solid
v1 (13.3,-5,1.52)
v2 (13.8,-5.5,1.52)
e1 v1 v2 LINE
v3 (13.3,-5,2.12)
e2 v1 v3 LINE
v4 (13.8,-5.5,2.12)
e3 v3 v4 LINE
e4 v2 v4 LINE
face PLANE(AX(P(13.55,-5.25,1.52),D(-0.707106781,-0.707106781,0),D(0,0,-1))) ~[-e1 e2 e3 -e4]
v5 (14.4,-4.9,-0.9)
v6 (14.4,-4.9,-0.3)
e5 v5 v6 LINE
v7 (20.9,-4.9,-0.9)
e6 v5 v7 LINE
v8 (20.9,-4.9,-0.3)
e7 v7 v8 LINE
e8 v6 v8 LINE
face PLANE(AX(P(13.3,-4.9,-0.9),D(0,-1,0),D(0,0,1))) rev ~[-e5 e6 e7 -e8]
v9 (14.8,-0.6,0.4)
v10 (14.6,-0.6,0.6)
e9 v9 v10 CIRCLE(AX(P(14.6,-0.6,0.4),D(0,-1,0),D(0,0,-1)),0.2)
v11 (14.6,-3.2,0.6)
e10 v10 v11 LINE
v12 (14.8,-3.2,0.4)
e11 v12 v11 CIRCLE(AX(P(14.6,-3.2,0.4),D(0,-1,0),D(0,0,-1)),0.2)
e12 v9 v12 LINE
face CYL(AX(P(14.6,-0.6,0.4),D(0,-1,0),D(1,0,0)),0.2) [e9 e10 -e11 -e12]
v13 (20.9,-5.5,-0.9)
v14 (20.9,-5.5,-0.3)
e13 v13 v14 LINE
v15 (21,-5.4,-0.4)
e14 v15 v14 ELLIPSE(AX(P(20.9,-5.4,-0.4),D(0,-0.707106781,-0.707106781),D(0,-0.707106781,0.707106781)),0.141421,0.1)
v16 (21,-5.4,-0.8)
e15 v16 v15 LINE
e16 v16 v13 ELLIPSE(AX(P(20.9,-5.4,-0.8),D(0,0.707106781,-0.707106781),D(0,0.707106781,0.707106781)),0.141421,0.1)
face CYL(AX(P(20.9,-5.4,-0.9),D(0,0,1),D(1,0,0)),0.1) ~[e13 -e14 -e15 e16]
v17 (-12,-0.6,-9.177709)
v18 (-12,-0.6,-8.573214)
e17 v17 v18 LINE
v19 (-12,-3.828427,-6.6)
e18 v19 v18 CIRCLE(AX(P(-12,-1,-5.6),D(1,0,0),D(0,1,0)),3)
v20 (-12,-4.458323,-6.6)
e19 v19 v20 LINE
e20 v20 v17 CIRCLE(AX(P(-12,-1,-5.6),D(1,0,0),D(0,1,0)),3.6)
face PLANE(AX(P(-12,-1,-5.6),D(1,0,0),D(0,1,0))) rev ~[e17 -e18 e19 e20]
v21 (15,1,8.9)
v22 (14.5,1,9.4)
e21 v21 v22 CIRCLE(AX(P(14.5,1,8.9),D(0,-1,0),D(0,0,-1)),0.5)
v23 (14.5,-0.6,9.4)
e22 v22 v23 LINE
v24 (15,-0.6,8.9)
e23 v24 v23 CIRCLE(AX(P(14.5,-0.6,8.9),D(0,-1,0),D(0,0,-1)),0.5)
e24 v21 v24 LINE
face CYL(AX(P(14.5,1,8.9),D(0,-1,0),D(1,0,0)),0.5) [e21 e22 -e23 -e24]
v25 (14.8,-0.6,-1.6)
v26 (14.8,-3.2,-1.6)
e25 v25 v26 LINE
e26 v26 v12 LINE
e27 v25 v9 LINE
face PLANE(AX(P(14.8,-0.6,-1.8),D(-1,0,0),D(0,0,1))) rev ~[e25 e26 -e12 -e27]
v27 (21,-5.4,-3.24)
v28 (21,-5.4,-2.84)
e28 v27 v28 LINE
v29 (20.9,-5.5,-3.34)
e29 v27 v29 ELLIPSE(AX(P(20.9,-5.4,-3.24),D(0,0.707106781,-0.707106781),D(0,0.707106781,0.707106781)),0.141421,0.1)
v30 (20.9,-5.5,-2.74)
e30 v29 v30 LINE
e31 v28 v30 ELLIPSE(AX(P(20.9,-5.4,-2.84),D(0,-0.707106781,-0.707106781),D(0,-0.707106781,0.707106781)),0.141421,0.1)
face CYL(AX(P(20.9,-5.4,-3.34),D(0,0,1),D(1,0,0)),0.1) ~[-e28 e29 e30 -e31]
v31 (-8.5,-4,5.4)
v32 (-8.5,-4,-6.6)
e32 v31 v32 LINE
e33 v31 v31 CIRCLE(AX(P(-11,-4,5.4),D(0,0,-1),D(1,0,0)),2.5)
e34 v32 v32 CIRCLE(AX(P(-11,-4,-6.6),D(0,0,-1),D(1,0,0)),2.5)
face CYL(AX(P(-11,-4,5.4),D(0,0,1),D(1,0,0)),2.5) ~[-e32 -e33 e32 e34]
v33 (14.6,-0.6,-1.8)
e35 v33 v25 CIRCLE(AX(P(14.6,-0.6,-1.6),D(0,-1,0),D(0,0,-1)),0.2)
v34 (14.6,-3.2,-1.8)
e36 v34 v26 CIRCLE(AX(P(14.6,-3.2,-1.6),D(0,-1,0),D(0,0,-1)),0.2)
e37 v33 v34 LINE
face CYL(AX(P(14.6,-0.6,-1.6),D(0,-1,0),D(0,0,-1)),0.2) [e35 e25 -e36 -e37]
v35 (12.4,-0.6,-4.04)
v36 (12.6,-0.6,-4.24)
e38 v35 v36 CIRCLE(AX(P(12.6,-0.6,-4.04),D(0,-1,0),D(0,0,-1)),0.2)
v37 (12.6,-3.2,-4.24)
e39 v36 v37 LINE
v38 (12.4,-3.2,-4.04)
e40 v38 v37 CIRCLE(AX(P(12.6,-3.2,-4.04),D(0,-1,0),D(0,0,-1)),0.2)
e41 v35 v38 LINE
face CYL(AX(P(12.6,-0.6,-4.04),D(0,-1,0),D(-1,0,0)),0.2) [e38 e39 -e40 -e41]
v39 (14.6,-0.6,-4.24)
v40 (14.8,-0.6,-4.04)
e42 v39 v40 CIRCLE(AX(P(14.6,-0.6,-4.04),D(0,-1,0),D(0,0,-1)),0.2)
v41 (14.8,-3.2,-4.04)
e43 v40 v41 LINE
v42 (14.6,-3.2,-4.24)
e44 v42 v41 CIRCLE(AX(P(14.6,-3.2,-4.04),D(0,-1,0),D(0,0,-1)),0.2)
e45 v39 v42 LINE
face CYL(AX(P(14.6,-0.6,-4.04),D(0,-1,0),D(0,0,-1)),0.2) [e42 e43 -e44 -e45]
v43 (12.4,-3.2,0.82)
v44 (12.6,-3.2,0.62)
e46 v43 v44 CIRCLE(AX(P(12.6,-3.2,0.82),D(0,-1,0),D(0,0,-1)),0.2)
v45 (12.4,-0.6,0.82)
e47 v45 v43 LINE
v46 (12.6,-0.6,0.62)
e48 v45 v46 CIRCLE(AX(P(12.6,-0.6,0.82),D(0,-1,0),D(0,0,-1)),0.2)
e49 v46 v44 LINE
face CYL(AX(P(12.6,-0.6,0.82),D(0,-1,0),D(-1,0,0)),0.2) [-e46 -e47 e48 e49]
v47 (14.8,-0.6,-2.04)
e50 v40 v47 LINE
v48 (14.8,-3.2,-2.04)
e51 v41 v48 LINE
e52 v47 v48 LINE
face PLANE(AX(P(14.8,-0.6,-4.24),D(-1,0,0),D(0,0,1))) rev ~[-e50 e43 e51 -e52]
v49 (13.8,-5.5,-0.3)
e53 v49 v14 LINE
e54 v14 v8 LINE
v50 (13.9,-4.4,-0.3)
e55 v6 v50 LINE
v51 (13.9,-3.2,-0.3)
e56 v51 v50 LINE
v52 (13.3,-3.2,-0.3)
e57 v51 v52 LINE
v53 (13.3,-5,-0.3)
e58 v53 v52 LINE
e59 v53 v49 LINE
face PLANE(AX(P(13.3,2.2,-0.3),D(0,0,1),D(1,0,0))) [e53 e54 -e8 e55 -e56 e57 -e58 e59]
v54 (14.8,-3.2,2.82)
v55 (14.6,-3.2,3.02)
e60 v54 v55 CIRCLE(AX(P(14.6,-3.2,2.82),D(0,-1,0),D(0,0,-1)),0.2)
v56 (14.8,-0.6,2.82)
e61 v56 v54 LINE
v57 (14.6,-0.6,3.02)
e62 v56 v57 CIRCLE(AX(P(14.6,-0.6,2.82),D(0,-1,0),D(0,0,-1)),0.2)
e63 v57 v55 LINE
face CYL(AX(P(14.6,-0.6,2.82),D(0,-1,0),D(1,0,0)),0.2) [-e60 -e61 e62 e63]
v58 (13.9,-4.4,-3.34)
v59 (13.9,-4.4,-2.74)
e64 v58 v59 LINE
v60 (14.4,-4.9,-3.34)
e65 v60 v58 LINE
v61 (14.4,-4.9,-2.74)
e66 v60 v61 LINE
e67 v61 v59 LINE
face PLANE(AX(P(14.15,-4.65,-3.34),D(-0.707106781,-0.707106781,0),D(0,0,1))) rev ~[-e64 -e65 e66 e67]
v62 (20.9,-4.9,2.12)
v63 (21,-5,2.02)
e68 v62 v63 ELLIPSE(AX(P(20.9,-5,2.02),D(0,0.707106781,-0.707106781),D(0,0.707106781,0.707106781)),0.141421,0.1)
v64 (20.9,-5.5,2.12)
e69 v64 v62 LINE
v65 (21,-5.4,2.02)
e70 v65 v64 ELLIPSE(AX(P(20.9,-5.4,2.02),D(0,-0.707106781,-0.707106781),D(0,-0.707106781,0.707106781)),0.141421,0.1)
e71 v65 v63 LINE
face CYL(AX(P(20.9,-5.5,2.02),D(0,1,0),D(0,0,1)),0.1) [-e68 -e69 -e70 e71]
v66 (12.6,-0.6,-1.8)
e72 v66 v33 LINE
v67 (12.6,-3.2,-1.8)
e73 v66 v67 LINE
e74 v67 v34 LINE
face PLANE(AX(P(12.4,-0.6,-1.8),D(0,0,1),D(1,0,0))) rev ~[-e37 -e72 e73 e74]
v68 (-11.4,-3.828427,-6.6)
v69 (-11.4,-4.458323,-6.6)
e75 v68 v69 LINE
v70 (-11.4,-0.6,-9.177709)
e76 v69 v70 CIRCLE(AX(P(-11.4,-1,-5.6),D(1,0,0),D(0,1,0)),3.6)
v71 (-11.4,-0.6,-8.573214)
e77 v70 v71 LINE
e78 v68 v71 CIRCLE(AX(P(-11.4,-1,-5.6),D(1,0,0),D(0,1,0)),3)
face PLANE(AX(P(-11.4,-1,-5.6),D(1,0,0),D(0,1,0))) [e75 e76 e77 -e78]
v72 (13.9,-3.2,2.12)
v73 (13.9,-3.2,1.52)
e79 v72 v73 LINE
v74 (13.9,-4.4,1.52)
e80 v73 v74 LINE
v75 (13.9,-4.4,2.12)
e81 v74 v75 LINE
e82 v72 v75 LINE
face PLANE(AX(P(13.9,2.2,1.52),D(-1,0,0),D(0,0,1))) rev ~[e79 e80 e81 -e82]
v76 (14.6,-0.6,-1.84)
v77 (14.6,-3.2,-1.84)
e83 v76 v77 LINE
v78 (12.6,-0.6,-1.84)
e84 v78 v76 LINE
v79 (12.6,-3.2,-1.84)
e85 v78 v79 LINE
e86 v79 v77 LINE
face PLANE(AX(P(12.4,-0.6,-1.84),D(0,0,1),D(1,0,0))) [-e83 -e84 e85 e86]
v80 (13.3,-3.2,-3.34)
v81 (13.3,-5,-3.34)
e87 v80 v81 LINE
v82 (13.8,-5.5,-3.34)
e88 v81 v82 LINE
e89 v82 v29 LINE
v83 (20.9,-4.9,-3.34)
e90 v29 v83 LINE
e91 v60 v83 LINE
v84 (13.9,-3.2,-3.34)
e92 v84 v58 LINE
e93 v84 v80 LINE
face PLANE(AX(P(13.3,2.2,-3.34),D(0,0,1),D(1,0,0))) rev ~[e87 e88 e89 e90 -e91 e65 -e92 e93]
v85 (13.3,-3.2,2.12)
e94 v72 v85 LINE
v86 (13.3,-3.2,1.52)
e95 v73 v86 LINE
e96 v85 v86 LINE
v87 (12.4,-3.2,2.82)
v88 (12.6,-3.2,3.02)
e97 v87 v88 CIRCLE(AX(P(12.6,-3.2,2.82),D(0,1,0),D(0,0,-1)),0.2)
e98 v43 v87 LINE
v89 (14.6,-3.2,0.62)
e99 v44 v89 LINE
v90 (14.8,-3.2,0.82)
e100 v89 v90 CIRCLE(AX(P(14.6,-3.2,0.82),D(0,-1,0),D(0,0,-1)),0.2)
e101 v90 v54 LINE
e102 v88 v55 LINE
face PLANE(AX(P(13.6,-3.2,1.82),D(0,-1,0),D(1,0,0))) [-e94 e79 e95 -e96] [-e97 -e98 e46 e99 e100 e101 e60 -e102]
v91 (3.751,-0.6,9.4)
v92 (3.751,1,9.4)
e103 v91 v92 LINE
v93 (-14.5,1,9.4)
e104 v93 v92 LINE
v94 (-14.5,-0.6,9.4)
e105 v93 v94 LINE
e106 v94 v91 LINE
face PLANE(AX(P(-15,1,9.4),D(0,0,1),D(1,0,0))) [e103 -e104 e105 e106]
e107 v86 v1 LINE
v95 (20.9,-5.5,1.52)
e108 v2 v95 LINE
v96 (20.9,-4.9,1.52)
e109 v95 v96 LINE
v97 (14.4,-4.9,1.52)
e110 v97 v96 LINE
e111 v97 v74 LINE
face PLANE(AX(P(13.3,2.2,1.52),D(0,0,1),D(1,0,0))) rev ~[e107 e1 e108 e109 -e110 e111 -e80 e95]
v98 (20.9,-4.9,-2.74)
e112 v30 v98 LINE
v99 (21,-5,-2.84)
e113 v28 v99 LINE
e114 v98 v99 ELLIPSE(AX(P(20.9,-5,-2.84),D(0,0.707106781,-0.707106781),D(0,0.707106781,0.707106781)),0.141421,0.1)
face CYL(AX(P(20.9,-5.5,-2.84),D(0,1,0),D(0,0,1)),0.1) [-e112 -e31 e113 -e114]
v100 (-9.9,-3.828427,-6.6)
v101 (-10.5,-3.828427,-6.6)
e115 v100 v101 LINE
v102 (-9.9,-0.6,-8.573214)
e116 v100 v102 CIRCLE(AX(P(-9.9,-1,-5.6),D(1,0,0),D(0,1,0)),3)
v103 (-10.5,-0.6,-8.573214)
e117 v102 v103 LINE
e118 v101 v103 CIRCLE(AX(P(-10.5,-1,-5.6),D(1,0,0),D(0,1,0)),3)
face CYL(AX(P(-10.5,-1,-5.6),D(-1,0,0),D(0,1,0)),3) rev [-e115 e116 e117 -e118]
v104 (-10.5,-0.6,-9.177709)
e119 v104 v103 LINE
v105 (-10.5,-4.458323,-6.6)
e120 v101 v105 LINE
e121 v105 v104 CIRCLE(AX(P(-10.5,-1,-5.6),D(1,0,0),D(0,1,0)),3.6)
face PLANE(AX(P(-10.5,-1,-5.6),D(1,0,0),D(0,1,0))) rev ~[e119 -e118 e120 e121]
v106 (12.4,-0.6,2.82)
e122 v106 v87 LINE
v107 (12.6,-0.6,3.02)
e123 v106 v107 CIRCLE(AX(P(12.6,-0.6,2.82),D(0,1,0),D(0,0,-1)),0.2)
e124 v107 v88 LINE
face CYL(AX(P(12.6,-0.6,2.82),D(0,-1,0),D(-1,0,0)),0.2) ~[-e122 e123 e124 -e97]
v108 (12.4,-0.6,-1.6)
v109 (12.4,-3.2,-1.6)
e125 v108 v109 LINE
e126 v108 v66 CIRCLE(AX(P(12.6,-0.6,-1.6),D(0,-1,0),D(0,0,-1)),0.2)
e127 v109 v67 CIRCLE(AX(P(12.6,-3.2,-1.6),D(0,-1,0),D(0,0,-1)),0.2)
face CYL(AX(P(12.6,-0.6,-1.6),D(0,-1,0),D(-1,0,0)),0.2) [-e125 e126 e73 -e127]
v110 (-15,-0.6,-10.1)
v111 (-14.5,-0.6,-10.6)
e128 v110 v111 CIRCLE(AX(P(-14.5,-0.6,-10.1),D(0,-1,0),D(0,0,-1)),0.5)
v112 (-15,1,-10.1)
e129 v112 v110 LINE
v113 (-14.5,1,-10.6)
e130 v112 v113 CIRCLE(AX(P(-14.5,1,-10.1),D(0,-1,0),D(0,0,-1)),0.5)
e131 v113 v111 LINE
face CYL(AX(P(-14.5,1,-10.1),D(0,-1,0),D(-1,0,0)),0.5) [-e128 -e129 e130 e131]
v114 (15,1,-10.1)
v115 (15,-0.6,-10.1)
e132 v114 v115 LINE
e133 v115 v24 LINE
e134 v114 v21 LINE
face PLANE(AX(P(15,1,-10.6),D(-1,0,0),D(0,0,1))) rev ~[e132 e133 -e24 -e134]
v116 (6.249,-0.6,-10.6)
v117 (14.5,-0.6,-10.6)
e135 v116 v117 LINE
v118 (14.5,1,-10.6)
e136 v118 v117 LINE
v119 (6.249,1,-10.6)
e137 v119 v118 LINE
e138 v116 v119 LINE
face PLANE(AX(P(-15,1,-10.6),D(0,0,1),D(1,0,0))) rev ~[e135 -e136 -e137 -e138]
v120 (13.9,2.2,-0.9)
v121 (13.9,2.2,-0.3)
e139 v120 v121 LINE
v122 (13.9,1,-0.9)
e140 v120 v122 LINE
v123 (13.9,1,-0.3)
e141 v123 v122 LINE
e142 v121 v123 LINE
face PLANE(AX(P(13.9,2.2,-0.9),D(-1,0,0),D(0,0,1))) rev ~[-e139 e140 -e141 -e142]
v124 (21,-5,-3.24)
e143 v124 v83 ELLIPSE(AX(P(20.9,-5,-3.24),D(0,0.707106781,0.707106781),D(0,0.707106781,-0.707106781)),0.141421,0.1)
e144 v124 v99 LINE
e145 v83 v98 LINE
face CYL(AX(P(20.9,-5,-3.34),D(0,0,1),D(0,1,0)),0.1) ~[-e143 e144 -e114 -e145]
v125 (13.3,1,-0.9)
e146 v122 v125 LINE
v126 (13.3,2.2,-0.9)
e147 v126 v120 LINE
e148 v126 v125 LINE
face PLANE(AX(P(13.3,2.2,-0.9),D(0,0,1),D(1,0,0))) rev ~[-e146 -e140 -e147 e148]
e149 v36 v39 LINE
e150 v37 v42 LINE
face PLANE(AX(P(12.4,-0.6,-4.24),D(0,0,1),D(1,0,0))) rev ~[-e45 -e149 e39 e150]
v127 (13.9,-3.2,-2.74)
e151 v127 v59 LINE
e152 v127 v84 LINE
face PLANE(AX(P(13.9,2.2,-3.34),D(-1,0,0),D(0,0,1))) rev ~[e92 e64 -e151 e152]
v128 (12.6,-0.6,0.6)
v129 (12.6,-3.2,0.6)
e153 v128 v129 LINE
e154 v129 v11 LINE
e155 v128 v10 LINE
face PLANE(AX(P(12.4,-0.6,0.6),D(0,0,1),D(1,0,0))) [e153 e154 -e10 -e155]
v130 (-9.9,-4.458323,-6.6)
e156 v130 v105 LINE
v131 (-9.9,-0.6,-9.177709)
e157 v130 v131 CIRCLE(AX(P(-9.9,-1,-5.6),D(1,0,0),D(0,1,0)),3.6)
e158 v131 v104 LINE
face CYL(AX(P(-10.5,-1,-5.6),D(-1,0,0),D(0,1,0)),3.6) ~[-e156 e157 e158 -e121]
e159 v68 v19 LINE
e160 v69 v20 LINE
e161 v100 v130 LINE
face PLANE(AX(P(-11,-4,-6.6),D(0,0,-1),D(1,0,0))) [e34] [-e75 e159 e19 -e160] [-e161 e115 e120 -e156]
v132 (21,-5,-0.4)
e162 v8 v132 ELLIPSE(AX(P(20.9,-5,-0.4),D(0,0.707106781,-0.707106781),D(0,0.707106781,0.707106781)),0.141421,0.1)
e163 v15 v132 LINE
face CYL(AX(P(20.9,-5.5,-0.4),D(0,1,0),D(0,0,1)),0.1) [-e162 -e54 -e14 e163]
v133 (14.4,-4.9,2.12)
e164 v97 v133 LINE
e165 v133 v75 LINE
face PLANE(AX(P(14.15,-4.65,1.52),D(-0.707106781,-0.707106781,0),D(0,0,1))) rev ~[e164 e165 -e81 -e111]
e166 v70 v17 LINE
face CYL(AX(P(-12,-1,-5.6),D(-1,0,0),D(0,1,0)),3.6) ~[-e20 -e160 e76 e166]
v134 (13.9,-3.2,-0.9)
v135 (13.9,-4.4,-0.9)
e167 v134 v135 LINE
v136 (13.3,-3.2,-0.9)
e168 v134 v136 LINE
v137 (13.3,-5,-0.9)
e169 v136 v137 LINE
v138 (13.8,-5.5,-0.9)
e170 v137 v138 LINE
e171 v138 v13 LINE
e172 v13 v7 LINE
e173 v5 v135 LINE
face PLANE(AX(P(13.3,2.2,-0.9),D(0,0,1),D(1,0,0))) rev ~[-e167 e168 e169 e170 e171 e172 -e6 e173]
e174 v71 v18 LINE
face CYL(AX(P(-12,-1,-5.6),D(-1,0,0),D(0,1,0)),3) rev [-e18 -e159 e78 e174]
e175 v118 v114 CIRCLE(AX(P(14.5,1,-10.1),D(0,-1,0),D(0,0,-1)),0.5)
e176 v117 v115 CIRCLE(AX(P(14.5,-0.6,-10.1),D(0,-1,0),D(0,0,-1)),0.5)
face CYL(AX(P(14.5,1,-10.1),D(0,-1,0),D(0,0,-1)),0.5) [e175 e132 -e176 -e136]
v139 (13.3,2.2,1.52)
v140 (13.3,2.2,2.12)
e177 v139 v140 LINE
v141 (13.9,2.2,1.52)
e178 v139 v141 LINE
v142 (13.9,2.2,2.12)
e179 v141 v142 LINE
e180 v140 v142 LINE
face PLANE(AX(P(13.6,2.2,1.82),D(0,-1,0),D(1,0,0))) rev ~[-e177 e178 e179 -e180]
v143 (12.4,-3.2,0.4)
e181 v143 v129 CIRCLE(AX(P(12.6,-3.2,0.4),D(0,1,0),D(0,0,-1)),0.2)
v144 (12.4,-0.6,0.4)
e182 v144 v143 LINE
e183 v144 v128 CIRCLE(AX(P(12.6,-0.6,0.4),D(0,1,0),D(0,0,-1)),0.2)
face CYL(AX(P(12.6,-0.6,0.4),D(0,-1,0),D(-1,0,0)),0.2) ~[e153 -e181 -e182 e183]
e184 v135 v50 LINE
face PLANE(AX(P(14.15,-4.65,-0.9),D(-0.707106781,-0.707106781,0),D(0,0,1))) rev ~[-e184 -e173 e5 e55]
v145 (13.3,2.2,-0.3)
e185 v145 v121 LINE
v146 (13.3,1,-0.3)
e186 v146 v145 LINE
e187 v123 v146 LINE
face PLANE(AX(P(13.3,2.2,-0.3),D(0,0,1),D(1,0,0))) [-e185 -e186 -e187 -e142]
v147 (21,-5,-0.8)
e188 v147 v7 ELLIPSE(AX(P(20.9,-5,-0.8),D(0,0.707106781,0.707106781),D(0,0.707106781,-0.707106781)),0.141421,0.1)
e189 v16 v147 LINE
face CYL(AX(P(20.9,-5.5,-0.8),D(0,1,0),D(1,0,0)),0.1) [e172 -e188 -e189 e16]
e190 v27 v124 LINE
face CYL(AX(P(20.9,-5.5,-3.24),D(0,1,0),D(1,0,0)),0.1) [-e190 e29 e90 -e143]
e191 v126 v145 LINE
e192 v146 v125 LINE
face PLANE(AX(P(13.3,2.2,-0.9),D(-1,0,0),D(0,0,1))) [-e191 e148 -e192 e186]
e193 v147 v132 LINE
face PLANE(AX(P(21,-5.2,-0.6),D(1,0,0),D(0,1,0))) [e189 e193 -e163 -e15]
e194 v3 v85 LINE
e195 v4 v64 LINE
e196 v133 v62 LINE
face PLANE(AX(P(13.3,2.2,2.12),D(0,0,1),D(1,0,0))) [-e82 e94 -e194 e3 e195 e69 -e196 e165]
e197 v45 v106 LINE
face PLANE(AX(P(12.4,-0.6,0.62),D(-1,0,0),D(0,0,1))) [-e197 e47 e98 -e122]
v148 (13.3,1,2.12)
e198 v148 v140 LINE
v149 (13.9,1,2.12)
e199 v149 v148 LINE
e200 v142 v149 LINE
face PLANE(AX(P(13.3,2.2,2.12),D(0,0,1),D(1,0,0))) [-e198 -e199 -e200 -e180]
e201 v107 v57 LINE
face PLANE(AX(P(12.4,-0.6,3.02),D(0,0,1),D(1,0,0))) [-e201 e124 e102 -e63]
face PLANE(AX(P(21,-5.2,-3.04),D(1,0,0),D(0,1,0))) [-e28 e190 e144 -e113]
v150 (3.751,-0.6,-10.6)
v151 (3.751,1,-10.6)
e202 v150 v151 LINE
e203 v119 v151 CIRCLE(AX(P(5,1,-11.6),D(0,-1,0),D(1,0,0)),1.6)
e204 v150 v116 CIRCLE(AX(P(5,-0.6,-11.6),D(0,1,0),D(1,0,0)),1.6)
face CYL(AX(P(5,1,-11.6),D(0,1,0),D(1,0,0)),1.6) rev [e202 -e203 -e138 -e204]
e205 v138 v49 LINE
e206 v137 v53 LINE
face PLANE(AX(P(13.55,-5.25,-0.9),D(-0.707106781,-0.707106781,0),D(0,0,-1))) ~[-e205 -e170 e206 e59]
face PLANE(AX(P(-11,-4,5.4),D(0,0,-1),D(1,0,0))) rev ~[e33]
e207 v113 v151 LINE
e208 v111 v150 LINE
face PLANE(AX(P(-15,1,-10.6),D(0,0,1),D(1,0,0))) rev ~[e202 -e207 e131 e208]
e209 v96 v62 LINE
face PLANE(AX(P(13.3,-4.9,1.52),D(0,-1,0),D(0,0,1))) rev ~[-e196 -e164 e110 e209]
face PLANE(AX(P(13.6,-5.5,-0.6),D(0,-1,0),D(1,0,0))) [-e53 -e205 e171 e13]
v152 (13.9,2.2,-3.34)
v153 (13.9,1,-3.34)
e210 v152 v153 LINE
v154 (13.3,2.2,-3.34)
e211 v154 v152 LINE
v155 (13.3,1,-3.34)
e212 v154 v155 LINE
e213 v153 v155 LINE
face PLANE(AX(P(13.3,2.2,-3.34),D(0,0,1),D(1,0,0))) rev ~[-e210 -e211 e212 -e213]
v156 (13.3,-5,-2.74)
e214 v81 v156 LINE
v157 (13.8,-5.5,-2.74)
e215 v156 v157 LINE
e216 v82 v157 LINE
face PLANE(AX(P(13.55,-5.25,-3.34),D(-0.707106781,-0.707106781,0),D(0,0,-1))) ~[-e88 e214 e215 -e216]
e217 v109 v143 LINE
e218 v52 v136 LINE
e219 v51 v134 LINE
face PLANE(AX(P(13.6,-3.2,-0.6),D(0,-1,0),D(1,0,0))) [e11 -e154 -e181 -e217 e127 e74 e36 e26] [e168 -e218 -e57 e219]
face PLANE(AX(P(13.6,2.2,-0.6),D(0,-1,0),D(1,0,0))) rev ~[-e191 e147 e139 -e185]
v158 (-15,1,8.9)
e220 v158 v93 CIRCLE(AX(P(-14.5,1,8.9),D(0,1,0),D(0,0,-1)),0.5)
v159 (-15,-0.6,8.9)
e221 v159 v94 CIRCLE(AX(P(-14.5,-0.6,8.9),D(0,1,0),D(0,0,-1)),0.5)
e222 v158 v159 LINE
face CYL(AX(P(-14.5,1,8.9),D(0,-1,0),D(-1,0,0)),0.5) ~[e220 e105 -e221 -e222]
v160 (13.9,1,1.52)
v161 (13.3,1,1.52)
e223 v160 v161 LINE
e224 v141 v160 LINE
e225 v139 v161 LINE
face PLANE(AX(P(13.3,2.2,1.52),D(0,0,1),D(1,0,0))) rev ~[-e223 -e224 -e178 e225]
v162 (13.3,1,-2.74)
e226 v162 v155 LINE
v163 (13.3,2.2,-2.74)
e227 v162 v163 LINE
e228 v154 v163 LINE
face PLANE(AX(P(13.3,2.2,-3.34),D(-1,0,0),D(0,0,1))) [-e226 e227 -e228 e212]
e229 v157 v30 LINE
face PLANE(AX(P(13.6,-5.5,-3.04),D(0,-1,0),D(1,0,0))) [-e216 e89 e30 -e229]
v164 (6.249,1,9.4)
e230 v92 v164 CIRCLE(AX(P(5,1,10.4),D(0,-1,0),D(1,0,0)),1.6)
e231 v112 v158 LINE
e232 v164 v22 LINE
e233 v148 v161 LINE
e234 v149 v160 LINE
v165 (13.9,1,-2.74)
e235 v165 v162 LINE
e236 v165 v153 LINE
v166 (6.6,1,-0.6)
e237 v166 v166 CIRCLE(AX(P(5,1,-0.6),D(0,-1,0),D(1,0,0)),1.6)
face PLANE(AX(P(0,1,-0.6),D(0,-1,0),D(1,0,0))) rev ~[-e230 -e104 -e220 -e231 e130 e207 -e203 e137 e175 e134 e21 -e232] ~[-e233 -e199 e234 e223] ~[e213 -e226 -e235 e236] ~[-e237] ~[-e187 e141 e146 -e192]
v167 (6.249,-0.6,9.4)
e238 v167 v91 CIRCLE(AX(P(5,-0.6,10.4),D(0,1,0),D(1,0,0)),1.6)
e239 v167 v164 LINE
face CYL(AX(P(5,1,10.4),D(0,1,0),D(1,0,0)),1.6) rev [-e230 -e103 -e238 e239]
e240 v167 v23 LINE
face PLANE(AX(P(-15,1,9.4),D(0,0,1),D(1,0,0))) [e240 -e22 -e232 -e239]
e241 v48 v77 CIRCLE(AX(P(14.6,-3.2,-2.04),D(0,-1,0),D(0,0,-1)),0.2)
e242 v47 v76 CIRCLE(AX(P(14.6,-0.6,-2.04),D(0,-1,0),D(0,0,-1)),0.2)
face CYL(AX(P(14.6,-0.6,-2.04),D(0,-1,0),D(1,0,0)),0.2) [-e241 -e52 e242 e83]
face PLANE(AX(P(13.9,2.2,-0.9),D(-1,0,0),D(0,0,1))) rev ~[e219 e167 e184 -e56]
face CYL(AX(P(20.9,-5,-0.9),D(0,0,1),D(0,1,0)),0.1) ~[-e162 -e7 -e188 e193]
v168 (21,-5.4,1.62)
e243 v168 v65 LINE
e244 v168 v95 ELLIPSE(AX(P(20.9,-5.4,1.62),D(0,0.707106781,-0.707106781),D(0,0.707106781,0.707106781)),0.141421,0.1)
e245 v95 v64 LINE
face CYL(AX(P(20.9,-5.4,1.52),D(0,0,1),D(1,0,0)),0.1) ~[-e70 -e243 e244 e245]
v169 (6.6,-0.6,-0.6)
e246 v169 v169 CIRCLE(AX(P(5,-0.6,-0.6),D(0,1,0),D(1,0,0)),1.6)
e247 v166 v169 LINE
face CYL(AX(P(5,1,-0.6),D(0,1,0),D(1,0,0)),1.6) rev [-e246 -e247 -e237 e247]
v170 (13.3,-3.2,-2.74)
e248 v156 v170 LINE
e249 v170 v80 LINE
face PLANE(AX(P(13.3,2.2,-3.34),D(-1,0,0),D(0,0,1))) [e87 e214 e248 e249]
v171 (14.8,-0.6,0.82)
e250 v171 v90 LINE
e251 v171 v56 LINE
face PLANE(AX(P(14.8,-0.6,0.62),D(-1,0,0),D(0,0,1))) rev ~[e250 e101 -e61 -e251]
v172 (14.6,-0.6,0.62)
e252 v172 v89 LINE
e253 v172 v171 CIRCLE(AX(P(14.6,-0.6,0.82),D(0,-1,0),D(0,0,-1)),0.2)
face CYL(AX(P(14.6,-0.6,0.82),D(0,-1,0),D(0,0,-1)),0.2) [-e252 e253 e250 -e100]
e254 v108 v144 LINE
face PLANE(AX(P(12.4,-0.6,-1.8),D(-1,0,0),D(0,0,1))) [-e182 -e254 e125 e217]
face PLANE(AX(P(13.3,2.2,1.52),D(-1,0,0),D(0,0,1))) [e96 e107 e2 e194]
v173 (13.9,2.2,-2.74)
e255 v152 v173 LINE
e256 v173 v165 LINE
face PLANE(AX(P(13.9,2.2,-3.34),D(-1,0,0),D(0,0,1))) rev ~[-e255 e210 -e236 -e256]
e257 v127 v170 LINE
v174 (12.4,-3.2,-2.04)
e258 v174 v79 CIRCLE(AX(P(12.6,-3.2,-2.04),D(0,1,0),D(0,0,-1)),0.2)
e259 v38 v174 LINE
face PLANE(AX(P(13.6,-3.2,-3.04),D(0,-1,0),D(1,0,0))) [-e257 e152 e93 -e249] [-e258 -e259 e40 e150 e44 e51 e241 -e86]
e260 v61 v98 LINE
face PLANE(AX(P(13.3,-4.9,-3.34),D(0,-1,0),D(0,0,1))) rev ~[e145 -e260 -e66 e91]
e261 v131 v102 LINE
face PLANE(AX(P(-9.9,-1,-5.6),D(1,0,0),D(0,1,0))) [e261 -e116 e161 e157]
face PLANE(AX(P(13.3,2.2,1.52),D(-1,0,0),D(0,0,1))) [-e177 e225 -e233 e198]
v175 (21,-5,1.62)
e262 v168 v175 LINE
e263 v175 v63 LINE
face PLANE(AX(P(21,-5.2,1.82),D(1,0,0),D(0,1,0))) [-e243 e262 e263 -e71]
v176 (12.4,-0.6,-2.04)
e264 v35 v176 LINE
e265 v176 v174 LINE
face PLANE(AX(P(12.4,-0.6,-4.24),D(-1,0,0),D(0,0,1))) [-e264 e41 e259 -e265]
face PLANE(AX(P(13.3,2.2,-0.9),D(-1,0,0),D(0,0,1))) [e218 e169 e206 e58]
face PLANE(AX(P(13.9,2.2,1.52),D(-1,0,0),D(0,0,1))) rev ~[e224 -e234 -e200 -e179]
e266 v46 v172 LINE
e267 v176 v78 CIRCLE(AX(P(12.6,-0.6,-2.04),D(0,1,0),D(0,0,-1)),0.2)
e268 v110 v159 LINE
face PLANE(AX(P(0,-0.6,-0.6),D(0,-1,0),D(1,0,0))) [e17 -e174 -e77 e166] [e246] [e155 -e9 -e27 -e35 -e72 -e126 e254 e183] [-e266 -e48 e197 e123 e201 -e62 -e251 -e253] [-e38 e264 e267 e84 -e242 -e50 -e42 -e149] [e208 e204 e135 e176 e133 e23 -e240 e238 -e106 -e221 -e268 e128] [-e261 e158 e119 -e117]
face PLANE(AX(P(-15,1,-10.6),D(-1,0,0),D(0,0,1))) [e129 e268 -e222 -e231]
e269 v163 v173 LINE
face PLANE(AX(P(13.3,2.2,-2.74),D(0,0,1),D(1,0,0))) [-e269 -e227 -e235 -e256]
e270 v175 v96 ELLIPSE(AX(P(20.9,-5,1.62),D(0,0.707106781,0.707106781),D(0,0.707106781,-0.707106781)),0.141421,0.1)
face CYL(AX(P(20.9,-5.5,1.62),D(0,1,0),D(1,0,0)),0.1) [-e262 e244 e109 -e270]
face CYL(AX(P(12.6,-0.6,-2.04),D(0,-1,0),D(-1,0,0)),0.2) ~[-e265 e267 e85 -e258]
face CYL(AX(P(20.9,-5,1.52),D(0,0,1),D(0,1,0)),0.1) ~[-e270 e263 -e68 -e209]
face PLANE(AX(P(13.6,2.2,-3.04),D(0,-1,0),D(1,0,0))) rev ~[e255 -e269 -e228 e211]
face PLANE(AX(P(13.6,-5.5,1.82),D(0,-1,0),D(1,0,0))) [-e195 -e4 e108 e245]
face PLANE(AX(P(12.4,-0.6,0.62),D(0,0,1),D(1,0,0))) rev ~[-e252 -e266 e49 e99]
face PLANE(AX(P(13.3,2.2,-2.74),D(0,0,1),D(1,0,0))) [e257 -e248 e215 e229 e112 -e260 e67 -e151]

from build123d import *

# Parameters (mm, degrees)
BOX214_W                  = 0.6
BOX214_H                  = 0.6
BOX214_DEPTH              = 7.7
BOX213_W                  = 0.6
BOX213_H                  = 0.6
BOX213_DEPTH              = 7.7
CHAMFER002_SIZE           = 0.5
CHAMFER003_SIZE           = 0.5
FILLET164_R               = 0.1
BOX212_W                  = 2.4
BOX212_H                  = 2.4
BOX212_DEPTH              = 2.6
FILLET163_R               = 0.2
BOX217_W                  = 0.6
BOX217_H                  = 0.6
BOX217_DEPTH              = 7.7
BOX216_W                  = 0.6
BOX216_H                  = 0.6
BOX216_DEPTH              = 7.7
CHAMFER004_SIZE           = 0.5
CHAMFER005_SIZE           = 0.5
FILLET166_R               = 0.1
BOX215_W                  = 2.4
BOX215_H                  = 2.4
BOX215_DEPTH              = 2.6
FILLET165_R               = 0.2
BOX220_W                  = 0.6
BOX220_H                  = 0.6
BOX220_DEPTH              = 7.7
BOX219_W                  = 0.6
BOX219_H                  = 0.6
BOX219_DEPTH              = 7.7
CHAMFER006_SIZE           = 0.5
CHAMFER007_SIZE           = 0.5
FILLET168_R               = 0.1
BOX218_W                  = 2.4
BOX218_H                  = 2.4
BOX218_DEPTH              = 2.6
FILLET167_R               = 0.2
BOX221_W                  = 10
BOX221_H                  = 10
BOX221_DEPTH              = 10
BOX222_W                  = 10
BOX222_H                  = 10
BOX222_DEPTH              = 10
TUBE003_R                 = 3.6
TUBE003_R_2               = 3
TUBE003_DEPTH             = 0.6
TUBE004_R                 = 3.6
TUBE004_R_2               = 3
TUBE004_DEPTH             = 0.6
CYLINDER193_R             = 2
CYLINDER193_DEPTH         = 1
CYLINDER194_R             = 2
CYLINDER194_DEPTH         = 1
CYLINDER192_R             = 2.5
CYLINDER192_DEPTH         = 12
FUSION007_PLACEMENT_ANGLE = 90
CYLINDER191_R             = 1.6
CYLINDER191_DEPTH         = 10
CYLINDER001_R             = 1.6
CYLINDER001_DEPTH         = 10
CYLINDER190_R             = 1.6
CYLINDER190_DEPTH         = 10
BOX211_W                  = 30
BOX211_H                  = 20
BOX211_DEPTH              = 1.6
FILLET161_R               = 0.5
FILLET162_R               = 0.5
FUSION010_PLACEMENT_ANGLE = 90


with BuildPart() as cubo201:
    # Box214 → Box214 (new body)
    with BuildSketch(Plane(origin=(0, 0, 7.7), x_dir=(0, 0, -1), z_dir=(1, 0, 0))):
        with Locations((0.3, 0.3)):
            Rectangle(BOX214_W, BOX214_H)
    extrude(amount=BOX214_DEPTH)


with BuildPart() as cuerpometal:
    # Box213 → Box213 (new body)
    with BuildSketch(Plane.XY):
        with Locations((0.3, 0.3)):
            Rectangle(BOX213_W, BOX213_H)
    extrude(amount=BOX213_DEPTH)

    # Fusion139: union Cubo201
    add(cubo201.part)

    # Chamfer002
    chamfer002_edges = [cuerpometal.edges().sort_by_distance(p)[0] for p in [
        (0, 0.3, 7.7),
    ]]
    chamfer(chamfer002_edges, length=CHAMFER002_SIZE)

    # Chamfer003
    chamfer003_edges = [cuerpometal.edges().sort_by_distance(p)[0] for p in [
        (0.6, 0.3, 7.1),
    ]]
    chamfer(chamfer003_edges, length=CHAMFER003_SIZE)

    # Fillet164
    fillet164_edges = [cuerpometal.edges().sort_by_distance(p)[0] for p in [
        (7.7, 0, 7.4),
        (7.7, 0.3, 7.1),
        (7.7, 0.3, 7.7),
        (7.7, 0.6, 7.4),
    ]]
    fillet(fillet164_edges, radius=FILLET164_R)


with BuildPart() as cuerpometal_1:
    # Fillet164 placement: moved
    add(cuerpometal.part.moved(Location((0.9, 0.9, -1.2))))


with BuildPart() as conectormacho:
    # Box212 → Box212 (new body)
    with BuildSketch(Plane.XY.offset(1.6)):
        with Locations((1.2, 1.2)):
            Rectangle(BOX212_W, BOX212_H)
    extrude(amount=BOX212_DEPTH)

    # Fillet163
    fillet163_edges = [conectormacho.edges().sort_by_distance(p)[0] for p in [
        (0, 0, 2.9),
        (0, 2.4, 2.9),
        (2.4, 0, 2.9),
        (2.4, 2.4, 2.9),
    ]]
    fillet(fillet163_edges, radius=FILLET163_R)

    # Fusion001: union CuerpoMetal
    add(cuerpometal_1.part)


with BuildPart() as conectormacho_1:
    # Fusion001 placement: moved
    add(conectormacho.part.moved(Location((12.4, -1.2, 0))))


with BuildPart() as cubo204:
    # Box217 → Box217 (new body)
    with BuildSketch(Plane(origin=(0, 0, 7.7), x_dir=(0, 0, -1), z_dir=(1, 0, 0))):
        with Locations((0.3, 0.3)):
            Rectangle(BOX217_W, BOX217_H)
    extrude(amount=BOX217_DEPTH)


with BuildPart() as cuerpometal001:
    # Box216 → Box216 (new body)
    with BuildSketch(Plane.XY):
        with Locations((0.3, 0.3)):
            Rectangle(BOX216_W, BOX216_H)
    extrude(amount=BOX216_DEPTH)

    # Fusion140: union Cubo204
    add(cubo204.part)

    # Chamfer004
    chamfer004_edges = [cuerpometal001.edges().sort_by_distance(p)[0] for p in [
        (0, 0.3, 7.7),
    ]]
    chamfer(chamfer004_edges, length=CHAMFER004_SIZE)

    # Chamfer005
    chamfer005_edges = [cuerpometal001.edges().sort_by_distance(p)[0] for p in [
        (0.6, 0.3, 7.1),
    ]]
    chamfer(chamfer005_edges, length=CHAMFER005_SIZE)

    # Fillet166
    fillet166_edges = [cuerpometal001.edges().sort_by_distance(p)[0] for p in [
        (7.7, 0, 7.4),
        (7.7, 0.3, 7.1),
        (7.7, 0.3, 7.7),
        (7.7, 0.6, 7.4),
    ]]
    fillet(fillet166_edges, radius=FILLET166_R)


with BuildPart() as cuerpometal001_1:
    # Fillet166 placement: moved
    add(cuerpometal001.part.moved(Location((0.9, 0.9, -1.2))))


with BuildPart() as conectormacho001:
    # Box215 → Box215 (new body)
    with BuildSketch(Plane.XY.offset(1.6)):
        with Locations((1.2, 1.2)):
            Rectangle(BOX215_W, BOX215_H)
    extrude(amount=BOX215_DEPTH)

    # Fillet165
    fillet165_edges = [conectormacho001.edges().sort_by_distance(p)[0] for p in [
        (0, 0, 2.9),
        (0, 2.4, 2.9),
        (2.4, 0, 2.9),
        (2.4, 2.4, 2.9),
    ]]
    fillet(fillet165_edges, radius=FILLET165_R)

    # Fusion003: union CuerpoMetal001
    add(cuerpometal001_1.part)


with BuildPart() as conectormacho001_1:
    # Fusion003 placement: moved
    add(conectormacho001.part.moved(Location((12.4, 1.22, 0))))


with BuildPart() as cubo207:
    # Box220 → Box220 (new body)
    with BuildSketch(Plane(origin=(0, 0, 7.7), x_dir=(0, 0, -1), z_dir=(1, 0, 0))):
        with Locations((0.3, 0.3)):
            Rectangle(BOX220_W, BOX220_H)
    extrude(amount=BOX220_DEPTH)


with BuildPart() as cuerpometal002:
    # Box219 → Box219 (new body)
    with BuildSketch(Plane.XY):
        with Locations((0.3, 0.3)):
            Rectangle(BOX219_W, BOX219_H)
    extrude(amount=BOX219_DEPTH)

    # Fusion004: union Cubo207
    add(cubo207.part)

    # Chamfer006
    chamfer006_edges = [cuerpometal002.edges().sort_by_distance(p)[0] for p in [
        (0, 0.3, 7.7),
    ]]
    chamfer(chamfer006_edges, length=CHAMFER006_SIZE)

    # Chamfer007
    chamfer007_edges = [cuerpometal002.edges().sort_by_distance(p)[0] for p in [
        (0.6, 0.3, 7.1),
    ]]
    chamfer(chamfer007_edges, length=CHAMFER007_SIZE)

    # Fillet168
    fillet168_edges = [cuerpometal002.edges().sort_by_distance(p)[0] for p in [
        (7.7, 0, 7.4),
        (7.7, 0.3, 7.1),
        (7.7, 0.3, 7.7),
        (7.7, 0.6, 7.4),
    ]]
    fillet(fillet168_edges, radius=FILLET168_R)


with BuildPart() as cuerpometal002_1:
    # Fillet168 placement: moved
    add(cuerpometal002.part.moved(Location((0.9, 0.9, -1.2))))


with BuildPart() as conectormacho002:
    # Box218 → Box218 (new body)
    with BuildSketch(Plane.XY.offset(1.6)):
        with Locations((1.2, 1.2)):
            Rectangle(BOX218_W, BOX218_H)
    extrude(amount=BOX218_DEPTH)

    # Fillet167
    fillet167_edges = [conectormacho002.edges().sort_by_distance(p)[0] for p in [
        (0, 0, 2.9),
        (0, 2.4, 2.9),
        (2.4, 0, 2.9),
        (2.4, 2.4, 2.9),
    ]]
    fillet(fillet167_edges, radius=FILLET167_R)

    # Fusion005: union CuerpoMetal002
    add(cuerpometal002_1.part)


with BuildPart() as conectormacho002_1:
    # Fusion005 placement: moved
    add(conectormacho002.part.moved(Location((12.4, -3.64, 0))))


with BuildPart() as cubo208:
    # Box221 → Box221 (new body)
    with BuildSketch(Plane(origin=(-14, -6, 0), x_dir=(1, 0, 0), z_dir=(0, 0, 1))):
        with Locations((5, 5)):
            Rectangle(BOX221_W, BOX221_H)
    extrude(amount=BOX221_DEPTH)


with BuildPart() as cubo011:
    # Box222 → Box222 (new body)
    with BuildSketch(Plane(origin=(-14, -11, -10), x_dir=(1, 0, 0), z_dir=(0, 0, 1))):
        with Locations((5, 5)):
            Rectangle(BOX222_W, BOX222_H)
    extrude(amount=BOX222_DEPTH)


with BuildPart() as tube003:
    # Tube003 → Tube003 (new body)
    with BuildSketch(Plane(origin=(-12, -5, 2), x_dir=(0, 0, -1), z_dir=(1, 0, 0))):
        Circle(TUBE003_R)
        Circle(TUBE003_R_2, mode=Mode.SUBTRACT)
    extrude(amount=TUBE003_DEPTH)


with BuildPart() as sensor:
    # Tube004 → Tube004 (new body)
    with BuildSketch(Plane(origin=(-10.5, -5, 2), x_dir=(0, 0, -1), z_dir=(1, 0, 0))):
        Circle(TUBE004_R)
        Circle(TUBE004_R_2, mode=Mode.SUBTRACT)
    extrude(amount=TUBE004_DEPTH)

    # Fusion008: union Tube003
    add(tube003.part)

    # Cut262: cut Cubo011
    add(cubo011.part, mode=Mode.SUBTRACT)

    # Cut263: cut Cubo208
    add(cubo208.part, mode=Mode.SUBTRACT)


with BuildPart() as cilindro193:
    # Cylinder193 → Cylinder193 (new body)
    with BuildSketch(Plane.XY):
        Circle(CYLINDER193_R)
    extrude(amount=CYLINDER193_DEPTH)


with BuildPart() as cilindro194:
    # Cylinder194 → Cylinder194 (new body)
    with BuildSketch(Plane.XY.offset(11)):
        Circle(CYLINDER194_R)
    extrude(amount=CYLINDER194_DEPTH)


with BuildPart() as fusion009:
    # Cylinder192 → Cylinder192 (new body)
    with BuildSketch(Plane.XY):
        Circle(CYLINDER192_R)
    extrude(amount=CYLINDER192_DEPTH)

    # Fusion006: union Cilindro194
    add(cilindro194.part)

    # Fusion007: union Cilindro193
    add(cilindro193.part)


with BuildPart() as fusion009_1:
    # Fusion007 placement: moved
    add(fusion009.part.moved(Location((-11, 6, 5))).rotate(Axis((-11, 6, 5), (1, 0, 0)), FUSION007_PLACEMENT_ANGLE))

    # Fusion009: union Sensor
    add(sensor.part)


with BuildPart() as cilindro191:
    # Cylinder191 → Cylinder191 (new body)
    with BuildSketch(Plane(origin=(5, 11, 0), x_dir=(1, 0, 0), z_dir=(0, 0, 1))):
        Circle(CYLINDER191_R)
    extrude(amount=CYLINDER191_DEPTH)


with BuildPart() as cilindro001:
    # Cylinder001 → Cylinder001 (new body)
    with BuildSketch(Plane(origin=(5, -11, 0), x_dir=(1, 0, 0), z_dir=(0, 0, 1))):
        Circle(CYLINDER001_R)
    extrude(amount=CYLINDER001_DEPTH)


with BuildPart() as cilindro190:
    # Cylinder190 → Cylinder190 (new body)
    with BuildSketch(Plane(origin=(5, 0, 0), x_dir=(1, 0, 0), z_dir=(0, 0, 1))):
        Circle(CYLINDER190_R)
    extrude(amount=CYLINDER190_DEPTH)


with BuildPart() as sensor_inclinaci_n:
    # Box211 → Box211 (new body)
    with BuildSketch(Plane.XY):
        with Locations((15, 10)):
            Rectangle(BOX211_W, BOX211_H)
    extrude(amount=BOX211_DEPTH)

    # Fillet161
    fillet161_edges = [sensor_inclinaci_n.edges().sort_by_distance(p)[0] for p in [
        (0, 0, 0.8),
        (0, 20, 0.8),
        (30, 20, 0.8),
    ]]
    fillet(fillet161_edges, radius=FILLET161_R)

    # Fillet162
    fillet162_edges = [sensor_inclinaci_n.edges().sort_by_distance(p)[0] for p in [
        (30, 0, 0.8),
    ]]
    fillet(fillet162_edges, radius=FILLET162_R)


with BuildPart() as sensor_inclinaci_n_1:
    # Fillet162 placement: moved
    add(sensor_inclinaci_n.part.moved(Location((-15, -10, 0))))

    # Cut259: cut Cilindro190
    add(cilindro190.part, mode=Mode.SUBTRACT)

    # Cut260: cut Cilindro001
    add(cilindro001.part, mode=Mode.SUBTRACT)

    # Cut261: cut Cilindro191
    add(cilindro191.part, mode=Mode.SUBTRACT)

    # Fusion010: union ConectorMacho, ConectorMacho001, ConectorMacho002, Fusion009
    add(conectormacho_1.part)
    add(conectormacho001_1.part)
    add(conectormacho002_1.part)
    add(fusion009_1.part)


with BuildPart() as sensor_inclinaci_n_2:
    # Fusion010 placement: moved
    add(sensor_inclinaci_n_1.part.moved(Location((0, 1, -0.6))).rotate(Axis((0, 1, -0.6), (1, 0, 0)), FUSION010_PLACEMENT_ANGLE))


solid = sensor_inclinaci_n_2.part
